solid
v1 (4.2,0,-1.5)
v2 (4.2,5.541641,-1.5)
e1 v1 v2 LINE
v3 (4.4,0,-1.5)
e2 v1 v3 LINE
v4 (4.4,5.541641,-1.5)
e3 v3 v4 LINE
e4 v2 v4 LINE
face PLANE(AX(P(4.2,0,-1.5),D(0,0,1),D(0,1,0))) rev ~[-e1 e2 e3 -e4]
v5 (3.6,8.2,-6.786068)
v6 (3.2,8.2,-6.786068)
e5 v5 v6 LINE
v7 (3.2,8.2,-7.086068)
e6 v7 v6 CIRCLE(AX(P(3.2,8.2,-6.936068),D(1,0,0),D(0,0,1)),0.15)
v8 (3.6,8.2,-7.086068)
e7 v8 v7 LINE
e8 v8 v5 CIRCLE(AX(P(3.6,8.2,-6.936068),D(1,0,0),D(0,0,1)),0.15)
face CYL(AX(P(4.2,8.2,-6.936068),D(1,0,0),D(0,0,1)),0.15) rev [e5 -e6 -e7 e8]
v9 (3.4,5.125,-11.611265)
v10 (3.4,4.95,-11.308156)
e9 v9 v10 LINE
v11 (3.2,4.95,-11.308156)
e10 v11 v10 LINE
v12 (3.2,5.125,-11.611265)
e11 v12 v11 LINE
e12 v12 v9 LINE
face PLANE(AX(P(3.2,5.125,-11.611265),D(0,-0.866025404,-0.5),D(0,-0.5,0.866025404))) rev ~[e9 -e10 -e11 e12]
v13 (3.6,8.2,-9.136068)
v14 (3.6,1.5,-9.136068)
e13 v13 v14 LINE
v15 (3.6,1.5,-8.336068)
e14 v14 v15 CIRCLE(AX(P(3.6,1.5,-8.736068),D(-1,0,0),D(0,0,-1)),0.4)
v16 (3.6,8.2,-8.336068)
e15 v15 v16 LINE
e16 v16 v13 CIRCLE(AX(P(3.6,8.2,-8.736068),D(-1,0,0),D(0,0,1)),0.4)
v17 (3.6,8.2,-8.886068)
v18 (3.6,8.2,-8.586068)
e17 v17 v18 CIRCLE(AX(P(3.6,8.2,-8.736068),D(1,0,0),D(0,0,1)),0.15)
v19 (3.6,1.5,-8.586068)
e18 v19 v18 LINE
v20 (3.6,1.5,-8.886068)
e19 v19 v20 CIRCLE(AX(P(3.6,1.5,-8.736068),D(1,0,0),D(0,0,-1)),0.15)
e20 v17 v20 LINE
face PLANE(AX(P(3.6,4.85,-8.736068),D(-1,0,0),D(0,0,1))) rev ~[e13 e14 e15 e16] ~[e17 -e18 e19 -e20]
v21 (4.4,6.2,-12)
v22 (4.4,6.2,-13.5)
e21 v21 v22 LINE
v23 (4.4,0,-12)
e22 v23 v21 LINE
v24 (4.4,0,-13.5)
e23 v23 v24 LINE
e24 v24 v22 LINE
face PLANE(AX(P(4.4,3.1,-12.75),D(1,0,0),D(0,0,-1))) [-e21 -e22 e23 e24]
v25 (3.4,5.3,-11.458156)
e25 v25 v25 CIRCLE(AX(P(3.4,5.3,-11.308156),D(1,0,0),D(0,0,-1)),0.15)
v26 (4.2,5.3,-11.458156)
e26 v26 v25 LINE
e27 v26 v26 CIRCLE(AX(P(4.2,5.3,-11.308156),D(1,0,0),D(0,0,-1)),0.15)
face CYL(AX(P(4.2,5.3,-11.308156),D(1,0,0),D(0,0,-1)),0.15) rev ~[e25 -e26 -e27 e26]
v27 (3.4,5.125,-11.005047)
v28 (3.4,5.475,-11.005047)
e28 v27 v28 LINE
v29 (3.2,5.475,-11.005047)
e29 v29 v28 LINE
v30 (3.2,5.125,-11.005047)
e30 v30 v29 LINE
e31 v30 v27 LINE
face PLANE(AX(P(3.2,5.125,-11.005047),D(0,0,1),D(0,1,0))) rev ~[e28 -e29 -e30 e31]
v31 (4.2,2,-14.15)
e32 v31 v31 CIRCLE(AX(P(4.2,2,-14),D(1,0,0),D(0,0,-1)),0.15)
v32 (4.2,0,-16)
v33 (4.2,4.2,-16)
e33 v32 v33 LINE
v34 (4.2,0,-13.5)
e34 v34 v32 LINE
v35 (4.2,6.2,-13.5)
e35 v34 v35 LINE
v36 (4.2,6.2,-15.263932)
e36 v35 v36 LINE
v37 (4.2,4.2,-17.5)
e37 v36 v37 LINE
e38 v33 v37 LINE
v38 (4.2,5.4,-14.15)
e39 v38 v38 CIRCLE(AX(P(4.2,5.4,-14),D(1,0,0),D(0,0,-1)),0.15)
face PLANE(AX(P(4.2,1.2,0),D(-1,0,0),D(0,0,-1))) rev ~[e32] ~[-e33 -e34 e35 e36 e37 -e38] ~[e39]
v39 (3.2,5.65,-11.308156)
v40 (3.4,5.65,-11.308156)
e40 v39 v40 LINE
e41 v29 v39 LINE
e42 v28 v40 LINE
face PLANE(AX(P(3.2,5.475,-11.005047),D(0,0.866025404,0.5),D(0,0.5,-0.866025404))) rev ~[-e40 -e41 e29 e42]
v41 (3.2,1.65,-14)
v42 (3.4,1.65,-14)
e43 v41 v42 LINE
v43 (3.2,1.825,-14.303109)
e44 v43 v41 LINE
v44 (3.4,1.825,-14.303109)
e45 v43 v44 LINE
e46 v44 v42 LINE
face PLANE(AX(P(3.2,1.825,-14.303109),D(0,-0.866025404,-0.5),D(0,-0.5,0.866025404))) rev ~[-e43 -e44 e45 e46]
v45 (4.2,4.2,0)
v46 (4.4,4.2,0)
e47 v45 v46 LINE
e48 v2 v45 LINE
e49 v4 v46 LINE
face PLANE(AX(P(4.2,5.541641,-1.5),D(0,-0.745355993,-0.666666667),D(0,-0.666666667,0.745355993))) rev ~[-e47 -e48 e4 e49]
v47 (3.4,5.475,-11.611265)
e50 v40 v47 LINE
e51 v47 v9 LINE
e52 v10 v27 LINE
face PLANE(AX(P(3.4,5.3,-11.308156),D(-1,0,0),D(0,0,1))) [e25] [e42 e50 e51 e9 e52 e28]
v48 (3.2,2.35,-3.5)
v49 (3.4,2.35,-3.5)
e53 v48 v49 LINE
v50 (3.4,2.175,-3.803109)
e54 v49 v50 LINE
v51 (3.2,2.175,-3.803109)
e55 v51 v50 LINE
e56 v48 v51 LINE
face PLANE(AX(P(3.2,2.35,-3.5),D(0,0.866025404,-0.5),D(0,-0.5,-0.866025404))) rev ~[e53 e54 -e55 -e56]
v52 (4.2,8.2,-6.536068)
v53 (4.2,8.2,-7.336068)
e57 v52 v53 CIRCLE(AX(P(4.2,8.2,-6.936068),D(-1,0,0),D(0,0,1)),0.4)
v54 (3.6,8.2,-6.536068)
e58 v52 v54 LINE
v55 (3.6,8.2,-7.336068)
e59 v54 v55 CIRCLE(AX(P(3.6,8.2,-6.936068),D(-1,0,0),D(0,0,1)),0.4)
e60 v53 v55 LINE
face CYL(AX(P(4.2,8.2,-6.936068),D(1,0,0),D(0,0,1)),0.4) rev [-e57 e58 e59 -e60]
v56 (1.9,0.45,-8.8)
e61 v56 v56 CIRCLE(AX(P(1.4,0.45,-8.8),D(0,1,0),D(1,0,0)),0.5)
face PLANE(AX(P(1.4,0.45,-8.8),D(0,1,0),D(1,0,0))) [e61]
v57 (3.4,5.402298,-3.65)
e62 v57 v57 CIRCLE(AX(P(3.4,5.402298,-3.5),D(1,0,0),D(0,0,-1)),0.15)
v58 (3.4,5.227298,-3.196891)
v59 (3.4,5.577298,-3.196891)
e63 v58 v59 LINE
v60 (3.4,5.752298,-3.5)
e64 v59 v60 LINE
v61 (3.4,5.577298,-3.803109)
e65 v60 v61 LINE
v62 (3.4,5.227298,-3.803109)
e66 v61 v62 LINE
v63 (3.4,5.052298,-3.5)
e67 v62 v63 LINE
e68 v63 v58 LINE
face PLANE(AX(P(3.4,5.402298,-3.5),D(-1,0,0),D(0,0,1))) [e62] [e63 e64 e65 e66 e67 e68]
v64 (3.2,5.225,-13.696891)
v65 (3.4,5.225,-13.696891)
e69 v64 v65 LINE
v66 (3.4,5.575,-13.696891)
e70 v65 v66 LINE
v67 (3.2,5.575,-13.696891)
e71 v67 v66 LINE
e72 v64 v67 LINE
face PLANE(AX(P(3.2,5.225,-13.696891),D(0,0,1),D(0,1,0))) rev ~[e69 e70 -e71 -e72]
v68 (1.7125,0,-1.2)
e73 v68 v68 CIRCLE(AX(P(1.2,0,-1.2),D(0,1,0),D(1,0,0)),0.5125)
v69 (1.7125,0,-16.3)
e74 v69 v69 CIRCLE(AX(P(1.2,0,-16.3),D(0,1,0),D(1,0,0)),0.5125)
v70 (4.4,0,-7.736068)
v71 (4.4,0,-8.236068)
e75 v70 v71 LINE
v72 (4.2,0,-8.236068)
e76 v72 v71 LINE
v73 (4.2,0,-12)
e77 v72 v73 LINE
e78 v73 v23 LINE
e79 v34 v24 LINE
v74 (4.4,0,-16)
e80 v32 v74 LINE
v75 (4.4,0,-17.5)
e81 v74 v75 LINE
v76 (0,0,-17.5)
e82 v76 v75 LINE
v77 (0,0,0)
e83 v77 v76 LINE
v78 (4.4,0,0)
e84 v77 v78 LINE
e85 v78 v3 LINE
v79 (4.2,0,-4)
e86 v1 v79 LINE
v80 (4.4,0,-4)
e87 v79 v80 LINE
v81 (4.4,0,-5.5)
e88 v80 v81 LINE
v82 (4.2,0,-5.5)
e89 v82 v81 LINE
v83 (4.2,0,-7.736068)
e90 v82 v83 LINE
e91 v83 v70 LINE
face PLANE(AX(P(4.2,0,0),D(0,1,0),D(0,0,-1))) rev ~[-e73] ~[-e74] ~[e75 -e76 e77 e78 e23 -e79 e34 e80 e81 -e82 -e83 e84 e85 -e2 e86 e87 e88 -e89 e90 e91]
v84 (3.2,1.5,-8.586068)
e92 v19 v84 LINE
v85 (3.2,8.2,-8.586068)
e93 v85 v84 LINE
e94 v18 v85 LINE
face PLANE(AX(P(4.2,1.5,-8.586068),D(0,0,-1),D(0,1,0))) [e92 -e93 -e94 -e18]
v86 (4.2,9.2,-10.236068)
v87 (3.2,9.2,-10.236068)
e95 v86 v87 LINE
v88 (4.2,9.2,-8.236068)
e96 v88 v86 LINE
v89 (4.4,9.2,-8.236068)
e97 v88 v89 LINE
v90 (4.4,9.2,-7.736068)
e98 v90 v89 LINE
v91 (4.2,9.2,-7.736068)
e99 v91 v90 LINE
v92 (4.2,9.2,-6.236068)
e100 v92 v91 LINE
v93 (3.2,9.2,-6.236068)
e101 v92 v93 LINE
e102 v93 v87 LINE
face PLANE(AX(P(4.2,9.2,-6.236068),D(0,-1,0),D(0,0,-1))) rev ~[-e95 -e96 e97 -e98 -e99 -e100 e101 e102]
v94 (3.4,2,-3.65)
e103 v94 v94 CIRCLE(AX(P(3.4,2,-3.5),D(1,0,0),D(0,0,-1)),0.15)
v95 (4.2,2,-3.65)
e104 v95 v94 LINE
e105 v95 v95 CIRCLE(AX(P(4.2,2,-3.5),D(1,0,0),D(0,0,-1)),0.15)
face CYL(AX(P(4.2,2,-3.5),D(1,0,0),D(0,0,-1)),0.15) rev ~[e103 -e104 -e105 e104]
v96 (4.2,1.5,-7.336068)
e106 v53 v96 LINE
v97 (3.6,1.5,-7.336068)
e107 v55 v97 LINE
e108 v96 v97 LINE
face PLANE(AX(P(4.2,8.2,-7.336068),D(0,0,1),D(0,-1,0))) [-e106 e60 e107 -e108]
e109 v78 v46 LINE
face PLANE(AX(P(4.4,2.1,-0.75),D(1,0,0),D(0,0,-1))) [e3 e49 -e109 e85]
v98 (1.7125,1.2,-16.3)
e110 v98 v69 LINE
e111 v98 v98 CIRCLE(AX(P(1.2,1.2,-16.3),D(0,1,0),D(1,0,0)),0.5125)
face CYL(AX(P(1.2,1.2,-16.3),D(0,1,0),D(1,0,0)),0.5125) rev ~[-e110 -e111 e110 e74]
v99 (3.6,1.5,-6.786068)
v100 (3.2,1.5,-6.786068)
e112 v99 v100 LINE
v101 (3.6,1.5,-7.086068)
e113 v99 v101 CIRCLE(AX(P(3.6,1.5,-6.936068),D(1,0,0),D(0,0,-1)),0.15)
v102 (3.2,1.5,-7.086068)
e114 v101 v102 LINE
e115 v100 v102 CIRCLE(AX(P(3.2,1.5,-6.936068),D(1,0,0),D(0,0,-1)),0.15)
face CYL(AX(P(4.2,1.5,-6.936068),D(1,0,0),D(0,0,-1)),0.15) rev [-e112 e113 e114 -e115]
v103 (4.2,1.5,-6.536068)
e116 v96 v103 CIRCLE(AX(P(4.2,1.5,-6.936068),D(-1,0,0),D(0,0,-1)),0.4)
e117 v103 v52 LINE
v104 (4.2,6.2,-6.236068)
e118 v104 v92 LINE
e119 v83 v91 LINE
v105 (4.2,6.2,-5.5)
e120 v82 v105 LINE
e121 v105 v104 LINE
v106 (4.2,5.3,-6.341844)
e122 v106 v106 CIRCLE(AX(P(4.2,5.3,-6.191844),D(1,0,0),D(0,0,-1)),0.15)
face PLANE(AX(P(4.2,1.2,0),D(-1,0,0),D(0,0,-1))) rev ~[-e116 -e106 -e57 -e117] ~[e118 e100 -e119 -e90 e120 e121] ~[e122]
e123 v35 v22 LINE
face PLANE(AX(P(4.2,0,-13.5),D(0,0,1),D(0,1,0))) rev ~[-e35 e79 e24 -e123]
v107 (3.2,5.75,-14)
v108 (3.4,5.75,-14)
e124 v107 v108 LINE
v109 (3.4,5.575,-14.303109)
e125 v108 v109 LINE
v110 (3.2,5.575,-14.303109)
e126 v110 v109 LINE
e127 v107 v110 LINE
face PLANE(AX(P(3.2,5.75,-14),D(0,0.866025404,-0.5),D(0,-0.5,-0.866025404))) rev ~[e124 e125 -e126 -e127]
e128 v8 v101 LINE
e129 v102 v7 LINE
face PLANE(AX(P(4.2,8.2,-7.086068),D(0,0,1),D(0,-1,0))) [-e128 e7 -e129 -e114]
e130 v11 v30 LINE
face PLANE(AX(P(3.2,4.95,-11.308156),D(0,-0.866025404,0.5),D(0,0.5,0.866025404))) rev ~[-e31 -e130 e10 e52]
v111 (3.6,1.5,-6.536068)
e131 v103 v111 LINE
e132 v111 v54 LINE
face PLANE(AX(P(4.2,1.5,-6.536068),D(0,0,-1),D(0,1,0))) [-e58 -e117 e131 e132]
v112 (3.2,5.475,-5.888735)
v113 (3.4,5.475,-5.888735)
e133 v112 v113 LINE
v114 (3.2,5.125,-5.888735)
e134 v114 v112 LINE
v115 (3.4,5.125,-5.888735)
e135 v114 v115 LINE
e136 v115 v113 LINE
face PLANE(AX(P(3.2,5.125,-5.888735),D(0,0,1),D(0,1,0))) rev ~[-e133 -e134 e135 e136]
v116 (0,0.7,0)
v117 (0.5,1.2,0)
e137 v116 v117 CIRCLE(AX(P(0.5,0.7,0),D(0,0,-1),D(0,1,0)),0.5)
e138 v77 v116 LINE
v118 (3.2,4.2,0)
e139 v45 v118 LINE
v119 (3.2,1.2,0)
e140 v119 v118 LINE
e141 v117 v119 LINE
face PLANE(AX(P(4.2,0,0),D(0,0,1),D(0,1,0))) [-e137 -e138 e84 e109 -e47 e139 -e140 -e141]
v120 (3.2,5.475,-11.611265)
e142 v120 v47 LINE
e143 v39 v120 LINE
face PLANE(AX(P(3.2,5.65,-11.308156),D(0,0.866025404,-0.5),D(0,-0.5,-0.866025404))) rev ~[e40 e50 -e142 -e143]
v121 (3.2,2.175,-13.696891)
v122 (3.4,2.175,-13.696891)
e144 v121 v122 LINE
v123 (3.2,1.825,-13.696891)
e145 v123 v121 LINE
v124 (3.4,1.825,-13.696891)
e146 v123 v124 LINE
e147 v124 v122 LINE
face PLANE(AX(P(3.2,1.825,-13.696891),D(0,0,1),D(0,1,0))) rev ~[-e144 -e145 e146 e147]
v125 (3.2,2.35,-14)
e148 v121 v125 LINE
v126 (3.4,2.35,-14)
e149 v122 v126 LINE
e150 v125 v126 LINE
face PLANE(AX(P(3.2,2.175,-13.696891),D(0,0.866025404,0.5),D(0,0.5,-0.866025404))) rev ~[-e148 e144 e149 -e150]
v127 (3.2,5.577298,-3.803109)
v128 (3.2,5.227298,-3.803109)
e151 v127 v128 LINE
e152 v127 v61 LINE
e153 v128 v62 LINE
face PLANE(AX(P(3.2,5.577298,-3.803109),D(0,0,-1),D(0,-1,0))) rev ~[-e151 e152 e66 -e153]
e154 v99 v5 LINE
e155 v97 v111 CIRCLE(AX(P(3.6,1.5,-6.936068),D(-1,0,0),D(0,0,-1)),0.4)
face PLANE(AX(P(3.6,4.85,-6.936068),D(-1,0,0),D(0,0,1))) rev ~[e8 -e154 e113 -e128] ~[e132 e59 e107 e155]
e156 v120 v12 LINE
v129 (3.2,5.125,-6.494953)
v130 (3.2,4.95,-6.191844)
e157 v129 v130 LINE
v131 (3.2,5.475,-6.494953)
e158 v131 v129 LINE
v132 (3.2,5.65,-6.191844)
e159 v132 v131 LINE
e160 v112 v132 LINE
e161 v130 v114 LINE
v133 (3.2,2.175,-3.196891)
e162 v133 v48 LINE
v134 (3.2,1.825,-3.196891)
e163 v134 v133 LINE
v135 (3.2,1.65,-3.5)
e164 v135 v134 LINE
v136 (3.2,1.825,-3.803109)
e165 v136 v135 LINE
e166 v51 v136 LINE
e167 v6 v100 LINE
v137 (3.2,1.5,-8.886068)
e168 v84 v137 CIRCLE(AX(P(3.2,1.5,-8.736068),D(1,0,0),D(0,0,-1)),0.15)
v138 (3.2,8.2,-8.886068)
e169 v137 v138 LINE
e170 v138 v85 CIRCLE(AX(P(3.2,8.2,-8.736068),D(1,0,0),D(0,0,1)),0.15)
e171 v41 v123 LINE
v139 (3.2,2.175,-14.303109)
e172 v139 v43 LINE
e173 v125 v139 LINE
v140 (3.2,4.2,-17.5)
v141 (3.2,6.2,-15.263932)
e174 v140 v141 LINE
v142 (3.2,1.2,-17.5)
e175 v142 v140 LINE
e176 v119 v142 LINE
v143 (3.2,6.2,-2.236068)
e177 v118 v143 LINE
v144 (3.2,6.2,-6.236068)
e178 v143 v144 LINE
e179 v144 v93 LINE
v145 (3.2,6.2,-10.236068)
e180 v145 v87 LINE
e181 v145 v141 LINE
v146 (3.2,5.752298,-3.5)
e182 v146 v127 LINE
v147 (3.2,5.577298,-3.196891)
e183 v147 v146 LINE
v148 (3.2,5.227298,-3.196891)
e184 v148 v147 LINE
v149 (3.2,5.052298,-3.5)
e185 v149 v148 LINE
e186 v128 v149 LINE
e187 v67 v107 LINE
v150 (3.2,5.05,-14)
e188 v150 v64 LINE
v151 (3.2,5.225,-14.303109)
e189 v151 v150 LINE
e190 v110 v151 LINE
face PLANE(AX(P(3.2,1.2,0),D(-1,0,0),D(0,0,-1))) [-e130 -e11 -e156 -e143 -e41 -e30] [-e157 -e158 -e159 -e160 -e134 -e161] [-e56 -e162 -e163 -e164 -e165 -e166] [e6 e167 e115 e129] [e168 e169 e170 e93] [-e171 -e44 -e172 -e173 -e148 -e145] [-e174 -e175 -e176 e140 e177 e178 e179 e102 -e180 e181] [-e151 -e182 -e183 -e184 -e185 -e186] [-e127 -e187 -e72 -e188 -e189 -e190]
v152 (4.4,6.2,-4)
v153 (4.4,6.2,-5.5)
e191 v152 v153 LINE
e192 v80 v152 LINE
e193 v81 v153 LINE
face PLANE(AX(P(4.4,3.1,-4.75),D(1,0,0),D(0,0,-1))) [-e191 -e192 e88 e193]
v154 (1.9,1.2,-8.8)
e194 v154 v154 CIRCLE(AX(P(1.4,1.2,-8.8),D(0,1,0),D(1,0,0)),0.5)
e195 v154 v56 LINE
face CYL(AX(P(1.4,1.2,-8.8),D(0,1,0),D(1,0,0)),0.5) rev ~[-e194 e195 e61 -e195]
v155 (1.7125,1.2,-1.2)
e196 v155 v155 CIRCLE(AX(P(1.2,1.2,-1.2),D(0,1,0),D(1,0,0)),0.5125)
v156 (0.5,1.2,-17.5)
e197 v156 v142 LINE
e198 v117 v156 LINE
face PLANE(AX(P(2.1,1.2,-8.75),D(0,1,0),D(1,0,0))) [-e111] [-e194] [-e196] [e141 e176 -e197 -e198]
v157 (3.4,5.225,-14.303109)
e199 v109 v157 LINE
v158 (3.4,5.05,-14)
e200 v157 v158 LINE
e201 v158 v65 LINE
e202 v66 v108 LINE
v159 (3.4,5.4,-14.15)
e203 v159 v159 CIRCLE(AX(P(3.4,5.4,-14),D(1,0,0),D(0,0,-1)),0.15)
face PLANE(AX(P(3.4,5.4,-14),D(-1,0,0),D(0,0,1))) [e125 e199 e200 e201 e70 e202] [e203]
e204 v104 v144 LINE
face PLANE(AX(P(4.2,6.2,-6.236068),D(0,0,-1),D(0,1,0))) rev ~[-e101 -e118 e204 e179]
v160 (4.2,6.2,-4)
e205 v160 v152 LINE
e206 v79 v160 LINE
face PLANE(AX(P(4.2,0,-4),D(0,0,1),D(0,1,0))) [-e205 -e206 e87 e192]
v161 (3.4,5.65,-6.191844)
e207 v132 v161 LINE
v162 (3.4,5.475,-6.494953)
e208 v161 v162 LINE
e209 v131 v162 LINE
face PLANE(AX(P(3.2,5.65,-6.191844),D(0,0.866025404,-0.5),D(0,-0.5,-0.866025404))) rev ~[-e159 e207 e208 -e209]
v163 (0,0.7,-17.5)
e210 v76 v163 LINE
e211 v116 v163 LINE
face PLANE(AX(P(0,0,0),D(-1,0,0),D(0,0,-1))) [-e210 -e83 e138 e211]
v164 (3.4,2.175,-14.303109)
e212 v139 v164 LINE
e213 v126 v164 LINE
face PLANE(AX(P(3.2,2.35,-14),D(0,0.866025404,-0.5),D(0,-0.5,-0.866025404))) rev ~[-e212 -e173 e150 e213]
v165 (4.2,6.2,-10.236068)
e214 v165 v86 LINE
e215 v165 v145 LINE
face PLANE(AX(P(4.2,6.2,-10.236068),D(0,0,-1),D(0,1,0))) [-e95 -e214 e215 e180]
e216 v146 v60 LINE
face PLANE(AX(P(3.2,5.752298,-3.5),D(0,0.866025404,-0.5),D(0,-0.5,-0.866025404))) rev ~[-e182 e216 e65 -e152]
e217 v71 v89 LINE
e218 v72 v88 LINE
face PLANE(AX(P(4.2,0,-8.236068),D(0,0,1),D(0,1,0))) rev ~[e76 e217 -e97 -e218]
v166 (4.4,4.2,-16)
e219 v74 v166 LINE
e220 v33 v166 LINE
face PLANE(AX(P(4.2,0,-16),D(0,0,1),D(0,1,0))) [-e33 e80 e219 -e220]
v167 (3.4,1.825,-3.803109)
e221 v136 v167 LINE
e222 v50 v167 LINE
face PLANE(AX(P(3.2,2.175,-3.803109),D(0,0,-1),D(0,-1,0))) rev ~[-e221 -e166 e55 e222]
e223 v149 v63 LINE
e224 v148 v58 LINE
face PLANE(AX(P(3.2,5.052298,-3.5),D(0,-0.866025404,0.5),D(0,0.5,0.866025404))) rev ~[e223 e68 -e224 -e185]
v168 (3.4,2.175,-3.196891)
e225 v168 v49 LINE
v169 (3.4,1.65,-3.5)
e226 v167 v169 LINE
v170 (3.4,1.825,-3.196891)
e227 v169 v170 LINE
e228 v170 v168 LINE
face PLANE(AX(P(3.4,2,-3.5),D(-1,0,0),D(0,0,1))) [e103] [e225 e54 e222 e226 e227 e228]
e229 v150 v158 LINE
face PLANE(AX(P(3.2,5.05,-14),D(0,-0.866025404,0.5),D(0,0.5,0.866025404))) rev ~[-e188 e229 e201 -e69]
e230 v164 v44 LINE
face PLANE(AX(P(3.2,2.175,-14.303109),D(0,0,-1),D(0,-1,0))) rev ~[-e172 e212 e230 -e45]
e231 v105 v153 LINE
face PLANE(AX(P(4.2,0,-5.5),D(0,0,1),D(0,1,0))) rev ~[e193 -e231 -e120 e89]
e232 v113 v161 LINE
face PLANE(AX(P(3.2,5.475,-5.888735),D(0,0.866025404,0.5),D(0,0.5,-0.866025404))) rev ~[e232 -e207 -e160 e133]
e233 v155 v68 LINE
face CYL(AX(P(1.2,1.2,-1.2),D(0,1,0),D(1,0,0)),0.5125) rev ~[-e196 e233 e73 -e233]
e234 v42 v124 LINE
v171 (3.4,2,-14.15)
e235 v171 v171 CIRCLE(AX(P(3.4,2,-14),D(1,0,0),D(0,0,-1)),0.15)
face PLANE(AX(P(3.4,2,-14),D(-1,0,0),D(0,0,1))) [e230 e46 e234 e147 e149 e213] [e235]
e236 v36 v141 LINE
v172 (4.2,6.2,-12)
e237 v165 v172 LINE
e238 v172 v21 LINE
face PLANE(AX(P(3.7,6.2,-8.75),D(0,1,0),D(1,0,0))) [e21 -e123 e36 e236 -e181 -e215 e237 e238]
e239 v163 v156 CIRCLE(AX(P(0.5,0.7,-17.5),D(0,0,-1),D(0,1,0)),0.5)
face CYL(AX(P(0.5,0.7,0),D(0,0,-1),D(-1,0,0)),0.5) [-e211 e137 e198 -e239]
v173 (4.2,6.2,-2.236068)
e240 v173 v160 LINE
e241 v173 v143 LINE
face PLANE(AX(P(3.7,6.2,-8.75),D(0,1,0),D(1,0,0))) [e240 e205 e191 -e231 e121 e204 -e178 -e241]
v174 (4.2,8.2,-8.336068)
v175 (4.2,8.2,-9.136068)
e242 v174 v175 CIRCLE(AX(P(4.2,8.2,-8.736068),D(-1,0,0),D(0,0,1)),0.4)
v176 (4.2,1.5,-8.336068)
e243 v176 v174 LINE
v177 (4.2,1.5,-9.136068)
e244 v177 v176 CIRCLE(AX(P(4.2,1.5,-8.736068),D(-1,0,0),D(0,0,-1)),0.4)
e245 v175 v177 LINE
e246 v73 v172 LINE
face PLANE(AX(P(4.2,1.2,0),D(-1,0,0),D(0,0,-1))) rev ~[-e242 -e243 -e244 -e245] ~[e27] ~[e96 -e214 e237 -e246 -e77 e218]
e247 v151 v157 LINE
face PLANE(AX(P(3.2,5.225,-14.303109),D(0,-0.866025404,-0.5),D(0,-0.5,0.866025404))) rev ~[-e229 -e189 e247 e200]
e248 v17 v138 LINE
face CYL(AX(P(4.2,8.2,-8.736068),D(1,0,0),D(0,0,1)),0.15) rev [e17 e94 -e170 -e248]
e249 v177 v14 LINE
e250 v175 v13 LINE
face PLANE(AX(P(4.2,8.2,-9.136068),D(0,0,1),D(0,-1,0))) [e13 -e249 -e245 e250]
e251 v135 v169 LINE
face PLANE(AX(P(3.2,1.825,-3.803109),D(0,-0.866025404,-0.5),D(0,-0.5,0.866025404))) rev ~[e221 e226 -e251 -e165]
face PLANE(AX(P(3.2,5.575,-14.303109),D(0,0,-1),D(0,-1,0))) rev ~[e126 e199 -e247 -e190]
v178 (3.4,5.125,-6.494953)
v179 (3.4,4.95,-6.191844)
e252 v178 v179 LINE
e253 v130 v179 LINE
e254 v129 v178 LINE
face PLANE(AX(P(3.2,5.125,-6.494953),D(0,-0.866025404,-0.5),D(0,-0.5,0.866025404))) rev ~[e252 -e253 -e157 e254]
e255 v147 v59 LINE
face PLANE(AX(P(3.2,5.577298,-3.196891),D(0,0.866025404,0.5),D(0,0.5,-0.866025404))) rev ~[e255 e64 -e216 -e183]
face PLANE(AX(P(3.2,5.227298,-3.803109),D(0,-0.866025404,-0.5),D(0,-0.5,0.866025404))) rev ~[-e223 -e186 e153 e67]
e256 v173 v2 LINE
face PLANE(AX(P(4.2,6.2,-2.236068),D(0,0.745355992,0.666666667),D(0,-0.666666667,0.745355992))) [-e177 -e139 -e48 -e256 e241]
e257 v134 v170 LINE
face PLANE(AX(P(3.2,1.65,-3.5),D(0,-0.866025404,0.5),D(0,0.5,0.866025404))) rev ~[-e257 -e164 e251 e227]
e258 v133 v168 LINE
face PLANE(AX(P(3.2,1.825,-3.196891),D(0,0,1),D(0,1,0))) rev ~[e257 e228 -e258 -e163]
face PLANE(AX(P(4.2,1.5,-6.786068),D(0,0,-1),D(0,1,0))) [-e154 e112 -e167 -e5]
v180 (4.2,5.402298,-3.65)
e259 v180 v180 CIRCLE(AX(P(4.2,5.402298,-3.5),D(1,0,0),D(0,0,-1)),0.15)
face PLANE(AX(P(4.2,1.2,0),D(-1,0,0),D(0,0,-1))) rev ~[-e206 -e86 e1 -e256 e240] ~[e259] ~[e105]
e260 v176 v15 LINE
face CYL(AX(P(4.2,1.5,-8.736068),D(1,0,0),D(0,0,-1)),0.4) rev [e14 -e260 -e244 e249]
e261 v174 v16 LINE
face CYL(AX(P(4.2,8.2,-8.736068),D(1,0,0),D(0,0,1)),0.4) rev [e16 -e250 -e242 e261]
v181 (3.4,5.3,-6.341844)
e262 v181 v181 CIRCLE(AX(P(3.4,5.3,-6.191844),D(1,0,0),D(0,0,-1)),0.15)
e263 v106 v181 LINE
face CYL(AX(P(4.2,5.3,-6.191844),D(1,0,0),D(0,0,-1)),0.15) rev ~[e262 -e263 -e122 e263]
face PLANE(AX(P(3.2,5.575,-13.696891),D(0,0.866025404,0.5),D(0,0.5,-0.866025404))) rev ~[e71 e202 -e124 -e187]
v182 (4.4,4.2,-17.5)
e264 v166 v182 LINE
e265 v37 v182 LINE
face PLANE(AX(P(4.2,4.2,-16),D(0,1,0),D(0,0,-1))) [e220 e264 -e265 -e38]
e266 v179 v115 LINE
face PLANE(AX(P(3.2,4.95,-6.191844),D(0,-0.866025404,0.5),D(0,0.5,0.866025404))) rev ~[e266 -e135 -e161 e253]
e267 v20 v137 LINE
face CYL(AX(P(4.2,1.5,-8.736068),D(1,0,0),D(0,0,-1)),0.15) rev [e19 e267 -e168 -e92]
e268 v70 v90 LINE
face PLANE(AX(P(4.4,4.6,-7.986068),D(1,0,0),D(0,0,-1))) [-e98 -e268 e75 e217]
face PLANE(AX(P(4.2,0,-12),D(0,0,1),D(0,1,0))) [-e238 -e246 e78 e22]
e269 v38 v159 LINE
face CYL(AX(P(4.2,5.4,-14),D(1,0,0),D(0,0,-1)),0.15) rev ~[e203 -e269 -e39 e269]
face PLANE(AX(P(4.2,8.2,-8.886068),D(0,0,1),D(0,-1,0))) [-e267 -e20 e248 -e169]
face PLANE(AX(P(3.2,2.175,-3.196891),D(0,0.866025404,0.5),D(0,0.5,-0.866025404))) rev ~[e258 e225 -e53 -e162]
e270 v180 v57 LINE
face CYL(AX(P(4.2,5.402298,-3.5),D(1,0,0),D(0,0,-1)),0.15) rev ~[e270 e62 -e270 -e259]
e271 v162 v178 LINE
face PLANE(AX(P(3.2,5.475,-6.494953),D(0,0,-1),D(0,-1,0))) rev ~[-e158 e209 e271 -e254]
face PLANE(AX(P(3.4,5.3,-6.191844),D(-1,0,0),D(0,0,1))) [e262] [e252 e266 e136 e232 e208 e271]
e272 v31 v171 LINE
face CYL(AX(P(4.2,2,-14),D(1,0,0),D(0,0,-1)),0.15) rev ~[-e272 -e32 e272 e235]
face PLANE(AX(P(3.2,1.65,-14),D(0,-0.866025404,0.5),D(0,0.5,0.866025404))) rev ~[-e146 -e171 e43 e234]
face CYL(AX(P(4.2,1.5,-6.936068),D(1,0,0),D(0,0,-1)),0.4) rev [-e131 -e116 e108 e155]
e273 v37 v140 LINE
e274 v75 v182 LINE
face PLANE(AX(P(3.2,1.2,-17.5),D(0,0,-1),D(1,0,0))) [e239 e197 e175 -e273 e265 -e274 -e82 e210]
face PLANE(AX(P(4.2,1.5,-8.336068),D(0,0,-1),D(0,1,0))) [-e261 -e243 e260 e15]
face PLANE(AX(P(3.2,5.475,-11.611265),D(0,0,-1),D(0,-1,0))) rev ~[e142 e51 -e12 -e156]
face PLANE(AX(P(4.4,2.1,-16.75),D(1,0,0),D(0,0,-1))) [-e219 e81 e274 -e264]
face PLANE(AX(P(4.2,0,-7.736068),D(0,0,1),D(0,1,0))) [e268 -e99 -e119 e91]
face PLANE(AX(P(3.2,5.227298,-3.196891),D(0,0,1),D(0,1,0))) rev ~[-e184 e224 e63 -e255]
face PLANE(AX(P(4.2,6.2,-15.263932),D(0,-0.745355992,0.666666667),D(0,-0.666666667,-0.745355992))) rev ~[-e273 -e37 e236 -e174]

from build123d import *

# Parameters (mm, degrees)
SKETCH1_W               = 4.2
SKETCH1_H               = 17.5
BOSS_EXTRUDE1_DEPTH     = 1.2
SKETCH2_W               = 1
SKETCH2_H               = 17.5
BOSS_EXTRUDE2_DEPTH     = 5
CUT_EXTRUDE1_DEPTH      = 1.3
CUT_EXTRUDE1_DEPTH_BACK = 5
SKETCH4_W               = 4
SKETCH4_H               = 3
BOSS_EXTRUDE3_DEPTH     = 1
SKETCH5_R               = 0.5125
CUT_EXTRUDE2_DEPTH      = 2.2
SKETCH6_R               = 0.5
CUT_EXTRUDE3_DEPTH      = 0.75
SKETCH11_R              = 0.15
CUT_EXTRUDE5_DEPTH      = 1.3
CUT_EXTRUDE5_DEPTH_BACK = 5.2
CUT_EXTRUDE7_DEPTH      = 0.2
CUT_EXTRUDE6_DEPTH      = 1.3
CUT_EXTRUDE6_DEPTH_BACK = 1.3
SKETCH14_W              = 1.5
SKETCH14_H              = 4.2
SKETCH14_H_2            = 6.2
SKETCH14_W_2            = 0.5
SKETCH14_H_3            = 9.2
BOSS_EXTRUDE5_DEPTH     = 0.2
FILLET1_R               = 0.5
CUT_EXTRUDE8_DEPTH      = 0.6


with BuildPart() as part:
    # Sketch1 → Boss-Extrude1 (new body)
    with BuildSketch(Plane(origin=(0, 0, 0), x_dir=(1, 0, 0), z_dir=(0, 1, 0))):
        with Locations((2.1, 8.75)):
            Rectangle(SKETCH1_W, SKETCH1_H)
    extrude(amount=BOSS_EXTRUDE1_DEPTH)

    # Sketch2 → Boss-Extrude2 (add)
    with BuildSketch(Plane(origin=(0, 1.2, 0), x_dir=(1, 0, 0), z_dir=(0, 1, 0))):
        with Locations((3.7, 8.75)):
            Rectangle(SKETCH2_W, SKETCH2_H)
    extrude(amount=BOSS_EXTRUDE2_DEPTH)

    # Sketch3 → Cut-Extrude1 (cut, two sides)
    with BuildSketch(Plane(origin=(4.2, 0, 0), x_dir=(0, 0, -1), z_dir=(1, 0, 0))) as cut_extrude1_sk:
        Polygon((0, 4.2), (0, 6.2), (2.236067977, 6.2), align=None)
        Polygon((17.5, 6.2), (15.263932023, 6.2), (17.5, 4.2), align=None)
    extrude(amount=CUT_EXTRUDE1_DEPTH, mode=Mode.SUBTRACT)
    extrude(cut_extrude1_sk.sketch, amount=-CUT_EXTRUDE1_DEPTH_BACK, mode=Mode.SUBTRACT)

    # Sketch4 → Boss-Extrude3 (add)
    with BuildSketch(Plane(origin=(4.2, 0, 0), x_dir=(0, 0, -1), z_dir=(1, 0, 0))):
        with Locations((8.236067977, 7.7)):
            Rectangle(SKETCH4_W, SKETCH4_H)
    extrude(amount=-BOSS_EXTRUDE3_DEPTH)

    # Sketch5 → Cut-Extrude2 (cut, through all)
    with BuildSketch(Plane(origin=(0, 1.2, 0), x_dir=(1, 0, 0), z_dir=(0, 1, 0))):
        with Locations((1.2, 16.3)):
            Circle(SKETCH5_R)
        with Locations((1.2, 1.2)):
            Circle(SKETCH5_R)
    extrude(amount=-CUT_EXTRUDE2_DEPTH, mode=Mode.SUBTRACT)

    # Sketch6 → Cut-Extrude3 (cut)
    with BuildSketch(Plane(origin=(0, 1.2, 0), x_dir=(1, 0, 0), z_dir=(0, 1, 0))):
        with Locations((1.4, 8.8)):
            Circle(SKETCH6_R)
    extrude(amount=-CUT_EXTRUDE3_DEPTH, mode=Mode.SUBTRACT)

    # Sketch11 → Cut-Extrude5 (cut, two sides)
    with BuildSketch(Plane(origin=(4.2, 0, 0), x_dir=(0, 0, -1), z_dir=(1, 0, 0))) as cut_extrude5_sk:
        with Locations((3.5, 5.40229833)):
            Circle(SKETCH11_R)
        with Locations((6.191844332, 5.3)):
            Circle(SKETCH11_R)
        with Locations((3.5, 2)):
            Circle(SKETCH11_R)
        with Locations((11.308155668, 5.3)):
            Circle(SKETCH11_R)
        with Locations((14, 5.4)):
            Circle(SKETCH11_R)
        with Locations((14, 2)):
            Circle(SKETCH11_R)
    extrude(amount=CUT_EXTRUDE5_DEPTH, mode=Mode.SUBTRACT)
    extrude(cut_extrude5_sk.sketch, amount=-CUT_EXTRUDE5_DEPTH_BACK, mode=Mode.SUBTRACT)

    # Sketch15 → Cut-Extrude7 (cut)
    with BuildSketch(Plane.ZY.offset(-3.2)):
        Polygon((-14, 5.75), (-14.303108891, 5.575), (-14.303108891, 5.225), (-14, 5.05), (-13.696891109, 5.225), (-13.696891109, 5.575), align=None)
        Polygon((-11.308155668, 5.65), (-11.611264559, 5.475), (-11.611264559, 5.125), (-11.308155668, 4.95), (-11.005046777, 5.125), (-11.005046777, 5.475), align=None)
        Polygon((-14, 2.35), (-14.303108891, 2.175), (-14.303108891, 1.825), (-14, 1.65), (-13.696891109, 1.825), (-13.696891109, 2.175), align=None)
        Polygon((-6.191844332, 5.65), (-6.494953223, 5.475), (-6.494953223, 5.125), (-6.191844332, 4.95), (-5.888735441, 5.125), (-5.888735441, 5.475), align=None)
        Polygon((-3.5, 5.75229833), (-3.803108891, 5.57729833), (-3.803108891, 5.22729833), (-3.5, 5.05229833), (-3.196891109, 5.22729833), (-3.196891109, 5.57729833), align=None)
        Polygon((-3.5, 2.35), (-3.803108891, 2.175), (-3.803108891, 1.825), (-3.5, 1.65), (-3.196891109, 1.825), (-3.196891109, 2.175), align=None)
    extrude(amount=-CUT_EXTRUDE7_DEPTH, mode=Mode.SUBTRACT)

    # Sketch12 → Cut-Extrude6 (cut, two sides)
    with BuildSketch(Plane(origin=(4.2, 0, 0), x_dir=(0, 0, -1), z_dir=(1, 0, 0))) as cut_extrude6_sk:
        with BuildLine():
            Line((8.886067977, 8.2), (8.886067977, 1.5))
            ThreePointArc((8.886067977, 1.5), (8.736067977, 1.35), (8.586067977, 1.5))
            Line((8.586067977, 1.5), (8.586067977, 8.2))
            ThreePointArc((8.586067977, 8.2), (8.736067977, 8.35), (8.886067977, 8.2))
        make_face()
        with BuildLine():
            Line((7.086067977, 8.2), (7.086067977, 1.5))
            ThreePointArc((7.086067977, 1.5), (6.936067977, 1.35), (6.786067977, 1.5))
            Line((6.786067977, 1.5), (6.786067977, 8.2))
            ThreePointArc((6.786067977, 8.2), (6.936067977, 8.35), (7.086067977, 8.2))
        make_face()
    extrude(amount=CUT_EXTRUDE6_DEPTH, mode=Mode.SUBTRACT)
    extrude(cut_extrude6_sk.sketch, amount=-CUT_EXTRUDE6_DEPTH_BACK, mode=Mode.SUBTRACT)

    # Sketch14 → Boss-Extrude5 (add)
    with BuildSketch(Plane(origin=(4.2, 0, 0), x_dir=(0, 0, -1), z_dir=(1, 0, 0))):
        with Locations((0.75, 2.1)):
            Rectangle(SKETCH14_W, SKETCH14_H)
        Polygon((1.5, 4.2), (1.5, 5.541640786), (0, 4.2), align=None)
        with Locations((4.75, 3.1)):
            Rectangle(SKETCH14_W, SKETCH14_H_2)
        with Locations((12.75, 3.1)):
            Rectangle(SKETCH14_W, SKETCH14_H_2)
        with Locations((7.986067977, 4.6)):
            Rectangle(SKETCH14_W_2, SKETCH14_H_3)
        with Locations((16.75, 2.1)):
            Rectangle(SKETCH14_W, SKETCH14_H)
    extrude(amount=BOSS_EXTRUDE5_DEPTH)

    # Fillet1
    fillet1_edges = [part.edges().sort_by_distance(p)[0] for p in [
        (0, 1.2, -8.75),
    ]]
    fillet(fillet1_edges, radius=FILLET1_R)

    # Sketch16 → Cut-Extrude8 (cut)
    with BuildSketch(Plane(origin=(4.2, 0, 0), x_dir=(0, 0, -1), z_dir=(1, 0, 0))):
        with BuildLine():
            Line((8.336067977, 1.5), (8.336067977, 8.2))
            ThreePointArc((8.336067977, 8.2), (8.736067977, 8.6), (9.136067977, 8.2))
            Line((9.136067977, 8.2), (9.136067977, 1.5))
            ThreePointArc((9.136067977, 1.5), (8.736067977, 1.1), (8.336067977, 1.5))
        make_face()
        with BuildLine():
            Line((6.536067977, 1.5), (6.536067977, 8.2))
            ThreePointArc((6.536067977, 8.2), (6.936067977, 8.6), (7.336067977, 8.2))
            Line((7.336067977, 8.2), (7.336067977, 1.5))
            ThreePointArc((7.336067977, 1.5), (6.936067977, 1.1), (6.536067977, 1.5))
        make_face()
    extrude(amount=-CUT_EXTRUDE8_DEPTH, mode=Mode.SUBTRACT)


solid = part.part
